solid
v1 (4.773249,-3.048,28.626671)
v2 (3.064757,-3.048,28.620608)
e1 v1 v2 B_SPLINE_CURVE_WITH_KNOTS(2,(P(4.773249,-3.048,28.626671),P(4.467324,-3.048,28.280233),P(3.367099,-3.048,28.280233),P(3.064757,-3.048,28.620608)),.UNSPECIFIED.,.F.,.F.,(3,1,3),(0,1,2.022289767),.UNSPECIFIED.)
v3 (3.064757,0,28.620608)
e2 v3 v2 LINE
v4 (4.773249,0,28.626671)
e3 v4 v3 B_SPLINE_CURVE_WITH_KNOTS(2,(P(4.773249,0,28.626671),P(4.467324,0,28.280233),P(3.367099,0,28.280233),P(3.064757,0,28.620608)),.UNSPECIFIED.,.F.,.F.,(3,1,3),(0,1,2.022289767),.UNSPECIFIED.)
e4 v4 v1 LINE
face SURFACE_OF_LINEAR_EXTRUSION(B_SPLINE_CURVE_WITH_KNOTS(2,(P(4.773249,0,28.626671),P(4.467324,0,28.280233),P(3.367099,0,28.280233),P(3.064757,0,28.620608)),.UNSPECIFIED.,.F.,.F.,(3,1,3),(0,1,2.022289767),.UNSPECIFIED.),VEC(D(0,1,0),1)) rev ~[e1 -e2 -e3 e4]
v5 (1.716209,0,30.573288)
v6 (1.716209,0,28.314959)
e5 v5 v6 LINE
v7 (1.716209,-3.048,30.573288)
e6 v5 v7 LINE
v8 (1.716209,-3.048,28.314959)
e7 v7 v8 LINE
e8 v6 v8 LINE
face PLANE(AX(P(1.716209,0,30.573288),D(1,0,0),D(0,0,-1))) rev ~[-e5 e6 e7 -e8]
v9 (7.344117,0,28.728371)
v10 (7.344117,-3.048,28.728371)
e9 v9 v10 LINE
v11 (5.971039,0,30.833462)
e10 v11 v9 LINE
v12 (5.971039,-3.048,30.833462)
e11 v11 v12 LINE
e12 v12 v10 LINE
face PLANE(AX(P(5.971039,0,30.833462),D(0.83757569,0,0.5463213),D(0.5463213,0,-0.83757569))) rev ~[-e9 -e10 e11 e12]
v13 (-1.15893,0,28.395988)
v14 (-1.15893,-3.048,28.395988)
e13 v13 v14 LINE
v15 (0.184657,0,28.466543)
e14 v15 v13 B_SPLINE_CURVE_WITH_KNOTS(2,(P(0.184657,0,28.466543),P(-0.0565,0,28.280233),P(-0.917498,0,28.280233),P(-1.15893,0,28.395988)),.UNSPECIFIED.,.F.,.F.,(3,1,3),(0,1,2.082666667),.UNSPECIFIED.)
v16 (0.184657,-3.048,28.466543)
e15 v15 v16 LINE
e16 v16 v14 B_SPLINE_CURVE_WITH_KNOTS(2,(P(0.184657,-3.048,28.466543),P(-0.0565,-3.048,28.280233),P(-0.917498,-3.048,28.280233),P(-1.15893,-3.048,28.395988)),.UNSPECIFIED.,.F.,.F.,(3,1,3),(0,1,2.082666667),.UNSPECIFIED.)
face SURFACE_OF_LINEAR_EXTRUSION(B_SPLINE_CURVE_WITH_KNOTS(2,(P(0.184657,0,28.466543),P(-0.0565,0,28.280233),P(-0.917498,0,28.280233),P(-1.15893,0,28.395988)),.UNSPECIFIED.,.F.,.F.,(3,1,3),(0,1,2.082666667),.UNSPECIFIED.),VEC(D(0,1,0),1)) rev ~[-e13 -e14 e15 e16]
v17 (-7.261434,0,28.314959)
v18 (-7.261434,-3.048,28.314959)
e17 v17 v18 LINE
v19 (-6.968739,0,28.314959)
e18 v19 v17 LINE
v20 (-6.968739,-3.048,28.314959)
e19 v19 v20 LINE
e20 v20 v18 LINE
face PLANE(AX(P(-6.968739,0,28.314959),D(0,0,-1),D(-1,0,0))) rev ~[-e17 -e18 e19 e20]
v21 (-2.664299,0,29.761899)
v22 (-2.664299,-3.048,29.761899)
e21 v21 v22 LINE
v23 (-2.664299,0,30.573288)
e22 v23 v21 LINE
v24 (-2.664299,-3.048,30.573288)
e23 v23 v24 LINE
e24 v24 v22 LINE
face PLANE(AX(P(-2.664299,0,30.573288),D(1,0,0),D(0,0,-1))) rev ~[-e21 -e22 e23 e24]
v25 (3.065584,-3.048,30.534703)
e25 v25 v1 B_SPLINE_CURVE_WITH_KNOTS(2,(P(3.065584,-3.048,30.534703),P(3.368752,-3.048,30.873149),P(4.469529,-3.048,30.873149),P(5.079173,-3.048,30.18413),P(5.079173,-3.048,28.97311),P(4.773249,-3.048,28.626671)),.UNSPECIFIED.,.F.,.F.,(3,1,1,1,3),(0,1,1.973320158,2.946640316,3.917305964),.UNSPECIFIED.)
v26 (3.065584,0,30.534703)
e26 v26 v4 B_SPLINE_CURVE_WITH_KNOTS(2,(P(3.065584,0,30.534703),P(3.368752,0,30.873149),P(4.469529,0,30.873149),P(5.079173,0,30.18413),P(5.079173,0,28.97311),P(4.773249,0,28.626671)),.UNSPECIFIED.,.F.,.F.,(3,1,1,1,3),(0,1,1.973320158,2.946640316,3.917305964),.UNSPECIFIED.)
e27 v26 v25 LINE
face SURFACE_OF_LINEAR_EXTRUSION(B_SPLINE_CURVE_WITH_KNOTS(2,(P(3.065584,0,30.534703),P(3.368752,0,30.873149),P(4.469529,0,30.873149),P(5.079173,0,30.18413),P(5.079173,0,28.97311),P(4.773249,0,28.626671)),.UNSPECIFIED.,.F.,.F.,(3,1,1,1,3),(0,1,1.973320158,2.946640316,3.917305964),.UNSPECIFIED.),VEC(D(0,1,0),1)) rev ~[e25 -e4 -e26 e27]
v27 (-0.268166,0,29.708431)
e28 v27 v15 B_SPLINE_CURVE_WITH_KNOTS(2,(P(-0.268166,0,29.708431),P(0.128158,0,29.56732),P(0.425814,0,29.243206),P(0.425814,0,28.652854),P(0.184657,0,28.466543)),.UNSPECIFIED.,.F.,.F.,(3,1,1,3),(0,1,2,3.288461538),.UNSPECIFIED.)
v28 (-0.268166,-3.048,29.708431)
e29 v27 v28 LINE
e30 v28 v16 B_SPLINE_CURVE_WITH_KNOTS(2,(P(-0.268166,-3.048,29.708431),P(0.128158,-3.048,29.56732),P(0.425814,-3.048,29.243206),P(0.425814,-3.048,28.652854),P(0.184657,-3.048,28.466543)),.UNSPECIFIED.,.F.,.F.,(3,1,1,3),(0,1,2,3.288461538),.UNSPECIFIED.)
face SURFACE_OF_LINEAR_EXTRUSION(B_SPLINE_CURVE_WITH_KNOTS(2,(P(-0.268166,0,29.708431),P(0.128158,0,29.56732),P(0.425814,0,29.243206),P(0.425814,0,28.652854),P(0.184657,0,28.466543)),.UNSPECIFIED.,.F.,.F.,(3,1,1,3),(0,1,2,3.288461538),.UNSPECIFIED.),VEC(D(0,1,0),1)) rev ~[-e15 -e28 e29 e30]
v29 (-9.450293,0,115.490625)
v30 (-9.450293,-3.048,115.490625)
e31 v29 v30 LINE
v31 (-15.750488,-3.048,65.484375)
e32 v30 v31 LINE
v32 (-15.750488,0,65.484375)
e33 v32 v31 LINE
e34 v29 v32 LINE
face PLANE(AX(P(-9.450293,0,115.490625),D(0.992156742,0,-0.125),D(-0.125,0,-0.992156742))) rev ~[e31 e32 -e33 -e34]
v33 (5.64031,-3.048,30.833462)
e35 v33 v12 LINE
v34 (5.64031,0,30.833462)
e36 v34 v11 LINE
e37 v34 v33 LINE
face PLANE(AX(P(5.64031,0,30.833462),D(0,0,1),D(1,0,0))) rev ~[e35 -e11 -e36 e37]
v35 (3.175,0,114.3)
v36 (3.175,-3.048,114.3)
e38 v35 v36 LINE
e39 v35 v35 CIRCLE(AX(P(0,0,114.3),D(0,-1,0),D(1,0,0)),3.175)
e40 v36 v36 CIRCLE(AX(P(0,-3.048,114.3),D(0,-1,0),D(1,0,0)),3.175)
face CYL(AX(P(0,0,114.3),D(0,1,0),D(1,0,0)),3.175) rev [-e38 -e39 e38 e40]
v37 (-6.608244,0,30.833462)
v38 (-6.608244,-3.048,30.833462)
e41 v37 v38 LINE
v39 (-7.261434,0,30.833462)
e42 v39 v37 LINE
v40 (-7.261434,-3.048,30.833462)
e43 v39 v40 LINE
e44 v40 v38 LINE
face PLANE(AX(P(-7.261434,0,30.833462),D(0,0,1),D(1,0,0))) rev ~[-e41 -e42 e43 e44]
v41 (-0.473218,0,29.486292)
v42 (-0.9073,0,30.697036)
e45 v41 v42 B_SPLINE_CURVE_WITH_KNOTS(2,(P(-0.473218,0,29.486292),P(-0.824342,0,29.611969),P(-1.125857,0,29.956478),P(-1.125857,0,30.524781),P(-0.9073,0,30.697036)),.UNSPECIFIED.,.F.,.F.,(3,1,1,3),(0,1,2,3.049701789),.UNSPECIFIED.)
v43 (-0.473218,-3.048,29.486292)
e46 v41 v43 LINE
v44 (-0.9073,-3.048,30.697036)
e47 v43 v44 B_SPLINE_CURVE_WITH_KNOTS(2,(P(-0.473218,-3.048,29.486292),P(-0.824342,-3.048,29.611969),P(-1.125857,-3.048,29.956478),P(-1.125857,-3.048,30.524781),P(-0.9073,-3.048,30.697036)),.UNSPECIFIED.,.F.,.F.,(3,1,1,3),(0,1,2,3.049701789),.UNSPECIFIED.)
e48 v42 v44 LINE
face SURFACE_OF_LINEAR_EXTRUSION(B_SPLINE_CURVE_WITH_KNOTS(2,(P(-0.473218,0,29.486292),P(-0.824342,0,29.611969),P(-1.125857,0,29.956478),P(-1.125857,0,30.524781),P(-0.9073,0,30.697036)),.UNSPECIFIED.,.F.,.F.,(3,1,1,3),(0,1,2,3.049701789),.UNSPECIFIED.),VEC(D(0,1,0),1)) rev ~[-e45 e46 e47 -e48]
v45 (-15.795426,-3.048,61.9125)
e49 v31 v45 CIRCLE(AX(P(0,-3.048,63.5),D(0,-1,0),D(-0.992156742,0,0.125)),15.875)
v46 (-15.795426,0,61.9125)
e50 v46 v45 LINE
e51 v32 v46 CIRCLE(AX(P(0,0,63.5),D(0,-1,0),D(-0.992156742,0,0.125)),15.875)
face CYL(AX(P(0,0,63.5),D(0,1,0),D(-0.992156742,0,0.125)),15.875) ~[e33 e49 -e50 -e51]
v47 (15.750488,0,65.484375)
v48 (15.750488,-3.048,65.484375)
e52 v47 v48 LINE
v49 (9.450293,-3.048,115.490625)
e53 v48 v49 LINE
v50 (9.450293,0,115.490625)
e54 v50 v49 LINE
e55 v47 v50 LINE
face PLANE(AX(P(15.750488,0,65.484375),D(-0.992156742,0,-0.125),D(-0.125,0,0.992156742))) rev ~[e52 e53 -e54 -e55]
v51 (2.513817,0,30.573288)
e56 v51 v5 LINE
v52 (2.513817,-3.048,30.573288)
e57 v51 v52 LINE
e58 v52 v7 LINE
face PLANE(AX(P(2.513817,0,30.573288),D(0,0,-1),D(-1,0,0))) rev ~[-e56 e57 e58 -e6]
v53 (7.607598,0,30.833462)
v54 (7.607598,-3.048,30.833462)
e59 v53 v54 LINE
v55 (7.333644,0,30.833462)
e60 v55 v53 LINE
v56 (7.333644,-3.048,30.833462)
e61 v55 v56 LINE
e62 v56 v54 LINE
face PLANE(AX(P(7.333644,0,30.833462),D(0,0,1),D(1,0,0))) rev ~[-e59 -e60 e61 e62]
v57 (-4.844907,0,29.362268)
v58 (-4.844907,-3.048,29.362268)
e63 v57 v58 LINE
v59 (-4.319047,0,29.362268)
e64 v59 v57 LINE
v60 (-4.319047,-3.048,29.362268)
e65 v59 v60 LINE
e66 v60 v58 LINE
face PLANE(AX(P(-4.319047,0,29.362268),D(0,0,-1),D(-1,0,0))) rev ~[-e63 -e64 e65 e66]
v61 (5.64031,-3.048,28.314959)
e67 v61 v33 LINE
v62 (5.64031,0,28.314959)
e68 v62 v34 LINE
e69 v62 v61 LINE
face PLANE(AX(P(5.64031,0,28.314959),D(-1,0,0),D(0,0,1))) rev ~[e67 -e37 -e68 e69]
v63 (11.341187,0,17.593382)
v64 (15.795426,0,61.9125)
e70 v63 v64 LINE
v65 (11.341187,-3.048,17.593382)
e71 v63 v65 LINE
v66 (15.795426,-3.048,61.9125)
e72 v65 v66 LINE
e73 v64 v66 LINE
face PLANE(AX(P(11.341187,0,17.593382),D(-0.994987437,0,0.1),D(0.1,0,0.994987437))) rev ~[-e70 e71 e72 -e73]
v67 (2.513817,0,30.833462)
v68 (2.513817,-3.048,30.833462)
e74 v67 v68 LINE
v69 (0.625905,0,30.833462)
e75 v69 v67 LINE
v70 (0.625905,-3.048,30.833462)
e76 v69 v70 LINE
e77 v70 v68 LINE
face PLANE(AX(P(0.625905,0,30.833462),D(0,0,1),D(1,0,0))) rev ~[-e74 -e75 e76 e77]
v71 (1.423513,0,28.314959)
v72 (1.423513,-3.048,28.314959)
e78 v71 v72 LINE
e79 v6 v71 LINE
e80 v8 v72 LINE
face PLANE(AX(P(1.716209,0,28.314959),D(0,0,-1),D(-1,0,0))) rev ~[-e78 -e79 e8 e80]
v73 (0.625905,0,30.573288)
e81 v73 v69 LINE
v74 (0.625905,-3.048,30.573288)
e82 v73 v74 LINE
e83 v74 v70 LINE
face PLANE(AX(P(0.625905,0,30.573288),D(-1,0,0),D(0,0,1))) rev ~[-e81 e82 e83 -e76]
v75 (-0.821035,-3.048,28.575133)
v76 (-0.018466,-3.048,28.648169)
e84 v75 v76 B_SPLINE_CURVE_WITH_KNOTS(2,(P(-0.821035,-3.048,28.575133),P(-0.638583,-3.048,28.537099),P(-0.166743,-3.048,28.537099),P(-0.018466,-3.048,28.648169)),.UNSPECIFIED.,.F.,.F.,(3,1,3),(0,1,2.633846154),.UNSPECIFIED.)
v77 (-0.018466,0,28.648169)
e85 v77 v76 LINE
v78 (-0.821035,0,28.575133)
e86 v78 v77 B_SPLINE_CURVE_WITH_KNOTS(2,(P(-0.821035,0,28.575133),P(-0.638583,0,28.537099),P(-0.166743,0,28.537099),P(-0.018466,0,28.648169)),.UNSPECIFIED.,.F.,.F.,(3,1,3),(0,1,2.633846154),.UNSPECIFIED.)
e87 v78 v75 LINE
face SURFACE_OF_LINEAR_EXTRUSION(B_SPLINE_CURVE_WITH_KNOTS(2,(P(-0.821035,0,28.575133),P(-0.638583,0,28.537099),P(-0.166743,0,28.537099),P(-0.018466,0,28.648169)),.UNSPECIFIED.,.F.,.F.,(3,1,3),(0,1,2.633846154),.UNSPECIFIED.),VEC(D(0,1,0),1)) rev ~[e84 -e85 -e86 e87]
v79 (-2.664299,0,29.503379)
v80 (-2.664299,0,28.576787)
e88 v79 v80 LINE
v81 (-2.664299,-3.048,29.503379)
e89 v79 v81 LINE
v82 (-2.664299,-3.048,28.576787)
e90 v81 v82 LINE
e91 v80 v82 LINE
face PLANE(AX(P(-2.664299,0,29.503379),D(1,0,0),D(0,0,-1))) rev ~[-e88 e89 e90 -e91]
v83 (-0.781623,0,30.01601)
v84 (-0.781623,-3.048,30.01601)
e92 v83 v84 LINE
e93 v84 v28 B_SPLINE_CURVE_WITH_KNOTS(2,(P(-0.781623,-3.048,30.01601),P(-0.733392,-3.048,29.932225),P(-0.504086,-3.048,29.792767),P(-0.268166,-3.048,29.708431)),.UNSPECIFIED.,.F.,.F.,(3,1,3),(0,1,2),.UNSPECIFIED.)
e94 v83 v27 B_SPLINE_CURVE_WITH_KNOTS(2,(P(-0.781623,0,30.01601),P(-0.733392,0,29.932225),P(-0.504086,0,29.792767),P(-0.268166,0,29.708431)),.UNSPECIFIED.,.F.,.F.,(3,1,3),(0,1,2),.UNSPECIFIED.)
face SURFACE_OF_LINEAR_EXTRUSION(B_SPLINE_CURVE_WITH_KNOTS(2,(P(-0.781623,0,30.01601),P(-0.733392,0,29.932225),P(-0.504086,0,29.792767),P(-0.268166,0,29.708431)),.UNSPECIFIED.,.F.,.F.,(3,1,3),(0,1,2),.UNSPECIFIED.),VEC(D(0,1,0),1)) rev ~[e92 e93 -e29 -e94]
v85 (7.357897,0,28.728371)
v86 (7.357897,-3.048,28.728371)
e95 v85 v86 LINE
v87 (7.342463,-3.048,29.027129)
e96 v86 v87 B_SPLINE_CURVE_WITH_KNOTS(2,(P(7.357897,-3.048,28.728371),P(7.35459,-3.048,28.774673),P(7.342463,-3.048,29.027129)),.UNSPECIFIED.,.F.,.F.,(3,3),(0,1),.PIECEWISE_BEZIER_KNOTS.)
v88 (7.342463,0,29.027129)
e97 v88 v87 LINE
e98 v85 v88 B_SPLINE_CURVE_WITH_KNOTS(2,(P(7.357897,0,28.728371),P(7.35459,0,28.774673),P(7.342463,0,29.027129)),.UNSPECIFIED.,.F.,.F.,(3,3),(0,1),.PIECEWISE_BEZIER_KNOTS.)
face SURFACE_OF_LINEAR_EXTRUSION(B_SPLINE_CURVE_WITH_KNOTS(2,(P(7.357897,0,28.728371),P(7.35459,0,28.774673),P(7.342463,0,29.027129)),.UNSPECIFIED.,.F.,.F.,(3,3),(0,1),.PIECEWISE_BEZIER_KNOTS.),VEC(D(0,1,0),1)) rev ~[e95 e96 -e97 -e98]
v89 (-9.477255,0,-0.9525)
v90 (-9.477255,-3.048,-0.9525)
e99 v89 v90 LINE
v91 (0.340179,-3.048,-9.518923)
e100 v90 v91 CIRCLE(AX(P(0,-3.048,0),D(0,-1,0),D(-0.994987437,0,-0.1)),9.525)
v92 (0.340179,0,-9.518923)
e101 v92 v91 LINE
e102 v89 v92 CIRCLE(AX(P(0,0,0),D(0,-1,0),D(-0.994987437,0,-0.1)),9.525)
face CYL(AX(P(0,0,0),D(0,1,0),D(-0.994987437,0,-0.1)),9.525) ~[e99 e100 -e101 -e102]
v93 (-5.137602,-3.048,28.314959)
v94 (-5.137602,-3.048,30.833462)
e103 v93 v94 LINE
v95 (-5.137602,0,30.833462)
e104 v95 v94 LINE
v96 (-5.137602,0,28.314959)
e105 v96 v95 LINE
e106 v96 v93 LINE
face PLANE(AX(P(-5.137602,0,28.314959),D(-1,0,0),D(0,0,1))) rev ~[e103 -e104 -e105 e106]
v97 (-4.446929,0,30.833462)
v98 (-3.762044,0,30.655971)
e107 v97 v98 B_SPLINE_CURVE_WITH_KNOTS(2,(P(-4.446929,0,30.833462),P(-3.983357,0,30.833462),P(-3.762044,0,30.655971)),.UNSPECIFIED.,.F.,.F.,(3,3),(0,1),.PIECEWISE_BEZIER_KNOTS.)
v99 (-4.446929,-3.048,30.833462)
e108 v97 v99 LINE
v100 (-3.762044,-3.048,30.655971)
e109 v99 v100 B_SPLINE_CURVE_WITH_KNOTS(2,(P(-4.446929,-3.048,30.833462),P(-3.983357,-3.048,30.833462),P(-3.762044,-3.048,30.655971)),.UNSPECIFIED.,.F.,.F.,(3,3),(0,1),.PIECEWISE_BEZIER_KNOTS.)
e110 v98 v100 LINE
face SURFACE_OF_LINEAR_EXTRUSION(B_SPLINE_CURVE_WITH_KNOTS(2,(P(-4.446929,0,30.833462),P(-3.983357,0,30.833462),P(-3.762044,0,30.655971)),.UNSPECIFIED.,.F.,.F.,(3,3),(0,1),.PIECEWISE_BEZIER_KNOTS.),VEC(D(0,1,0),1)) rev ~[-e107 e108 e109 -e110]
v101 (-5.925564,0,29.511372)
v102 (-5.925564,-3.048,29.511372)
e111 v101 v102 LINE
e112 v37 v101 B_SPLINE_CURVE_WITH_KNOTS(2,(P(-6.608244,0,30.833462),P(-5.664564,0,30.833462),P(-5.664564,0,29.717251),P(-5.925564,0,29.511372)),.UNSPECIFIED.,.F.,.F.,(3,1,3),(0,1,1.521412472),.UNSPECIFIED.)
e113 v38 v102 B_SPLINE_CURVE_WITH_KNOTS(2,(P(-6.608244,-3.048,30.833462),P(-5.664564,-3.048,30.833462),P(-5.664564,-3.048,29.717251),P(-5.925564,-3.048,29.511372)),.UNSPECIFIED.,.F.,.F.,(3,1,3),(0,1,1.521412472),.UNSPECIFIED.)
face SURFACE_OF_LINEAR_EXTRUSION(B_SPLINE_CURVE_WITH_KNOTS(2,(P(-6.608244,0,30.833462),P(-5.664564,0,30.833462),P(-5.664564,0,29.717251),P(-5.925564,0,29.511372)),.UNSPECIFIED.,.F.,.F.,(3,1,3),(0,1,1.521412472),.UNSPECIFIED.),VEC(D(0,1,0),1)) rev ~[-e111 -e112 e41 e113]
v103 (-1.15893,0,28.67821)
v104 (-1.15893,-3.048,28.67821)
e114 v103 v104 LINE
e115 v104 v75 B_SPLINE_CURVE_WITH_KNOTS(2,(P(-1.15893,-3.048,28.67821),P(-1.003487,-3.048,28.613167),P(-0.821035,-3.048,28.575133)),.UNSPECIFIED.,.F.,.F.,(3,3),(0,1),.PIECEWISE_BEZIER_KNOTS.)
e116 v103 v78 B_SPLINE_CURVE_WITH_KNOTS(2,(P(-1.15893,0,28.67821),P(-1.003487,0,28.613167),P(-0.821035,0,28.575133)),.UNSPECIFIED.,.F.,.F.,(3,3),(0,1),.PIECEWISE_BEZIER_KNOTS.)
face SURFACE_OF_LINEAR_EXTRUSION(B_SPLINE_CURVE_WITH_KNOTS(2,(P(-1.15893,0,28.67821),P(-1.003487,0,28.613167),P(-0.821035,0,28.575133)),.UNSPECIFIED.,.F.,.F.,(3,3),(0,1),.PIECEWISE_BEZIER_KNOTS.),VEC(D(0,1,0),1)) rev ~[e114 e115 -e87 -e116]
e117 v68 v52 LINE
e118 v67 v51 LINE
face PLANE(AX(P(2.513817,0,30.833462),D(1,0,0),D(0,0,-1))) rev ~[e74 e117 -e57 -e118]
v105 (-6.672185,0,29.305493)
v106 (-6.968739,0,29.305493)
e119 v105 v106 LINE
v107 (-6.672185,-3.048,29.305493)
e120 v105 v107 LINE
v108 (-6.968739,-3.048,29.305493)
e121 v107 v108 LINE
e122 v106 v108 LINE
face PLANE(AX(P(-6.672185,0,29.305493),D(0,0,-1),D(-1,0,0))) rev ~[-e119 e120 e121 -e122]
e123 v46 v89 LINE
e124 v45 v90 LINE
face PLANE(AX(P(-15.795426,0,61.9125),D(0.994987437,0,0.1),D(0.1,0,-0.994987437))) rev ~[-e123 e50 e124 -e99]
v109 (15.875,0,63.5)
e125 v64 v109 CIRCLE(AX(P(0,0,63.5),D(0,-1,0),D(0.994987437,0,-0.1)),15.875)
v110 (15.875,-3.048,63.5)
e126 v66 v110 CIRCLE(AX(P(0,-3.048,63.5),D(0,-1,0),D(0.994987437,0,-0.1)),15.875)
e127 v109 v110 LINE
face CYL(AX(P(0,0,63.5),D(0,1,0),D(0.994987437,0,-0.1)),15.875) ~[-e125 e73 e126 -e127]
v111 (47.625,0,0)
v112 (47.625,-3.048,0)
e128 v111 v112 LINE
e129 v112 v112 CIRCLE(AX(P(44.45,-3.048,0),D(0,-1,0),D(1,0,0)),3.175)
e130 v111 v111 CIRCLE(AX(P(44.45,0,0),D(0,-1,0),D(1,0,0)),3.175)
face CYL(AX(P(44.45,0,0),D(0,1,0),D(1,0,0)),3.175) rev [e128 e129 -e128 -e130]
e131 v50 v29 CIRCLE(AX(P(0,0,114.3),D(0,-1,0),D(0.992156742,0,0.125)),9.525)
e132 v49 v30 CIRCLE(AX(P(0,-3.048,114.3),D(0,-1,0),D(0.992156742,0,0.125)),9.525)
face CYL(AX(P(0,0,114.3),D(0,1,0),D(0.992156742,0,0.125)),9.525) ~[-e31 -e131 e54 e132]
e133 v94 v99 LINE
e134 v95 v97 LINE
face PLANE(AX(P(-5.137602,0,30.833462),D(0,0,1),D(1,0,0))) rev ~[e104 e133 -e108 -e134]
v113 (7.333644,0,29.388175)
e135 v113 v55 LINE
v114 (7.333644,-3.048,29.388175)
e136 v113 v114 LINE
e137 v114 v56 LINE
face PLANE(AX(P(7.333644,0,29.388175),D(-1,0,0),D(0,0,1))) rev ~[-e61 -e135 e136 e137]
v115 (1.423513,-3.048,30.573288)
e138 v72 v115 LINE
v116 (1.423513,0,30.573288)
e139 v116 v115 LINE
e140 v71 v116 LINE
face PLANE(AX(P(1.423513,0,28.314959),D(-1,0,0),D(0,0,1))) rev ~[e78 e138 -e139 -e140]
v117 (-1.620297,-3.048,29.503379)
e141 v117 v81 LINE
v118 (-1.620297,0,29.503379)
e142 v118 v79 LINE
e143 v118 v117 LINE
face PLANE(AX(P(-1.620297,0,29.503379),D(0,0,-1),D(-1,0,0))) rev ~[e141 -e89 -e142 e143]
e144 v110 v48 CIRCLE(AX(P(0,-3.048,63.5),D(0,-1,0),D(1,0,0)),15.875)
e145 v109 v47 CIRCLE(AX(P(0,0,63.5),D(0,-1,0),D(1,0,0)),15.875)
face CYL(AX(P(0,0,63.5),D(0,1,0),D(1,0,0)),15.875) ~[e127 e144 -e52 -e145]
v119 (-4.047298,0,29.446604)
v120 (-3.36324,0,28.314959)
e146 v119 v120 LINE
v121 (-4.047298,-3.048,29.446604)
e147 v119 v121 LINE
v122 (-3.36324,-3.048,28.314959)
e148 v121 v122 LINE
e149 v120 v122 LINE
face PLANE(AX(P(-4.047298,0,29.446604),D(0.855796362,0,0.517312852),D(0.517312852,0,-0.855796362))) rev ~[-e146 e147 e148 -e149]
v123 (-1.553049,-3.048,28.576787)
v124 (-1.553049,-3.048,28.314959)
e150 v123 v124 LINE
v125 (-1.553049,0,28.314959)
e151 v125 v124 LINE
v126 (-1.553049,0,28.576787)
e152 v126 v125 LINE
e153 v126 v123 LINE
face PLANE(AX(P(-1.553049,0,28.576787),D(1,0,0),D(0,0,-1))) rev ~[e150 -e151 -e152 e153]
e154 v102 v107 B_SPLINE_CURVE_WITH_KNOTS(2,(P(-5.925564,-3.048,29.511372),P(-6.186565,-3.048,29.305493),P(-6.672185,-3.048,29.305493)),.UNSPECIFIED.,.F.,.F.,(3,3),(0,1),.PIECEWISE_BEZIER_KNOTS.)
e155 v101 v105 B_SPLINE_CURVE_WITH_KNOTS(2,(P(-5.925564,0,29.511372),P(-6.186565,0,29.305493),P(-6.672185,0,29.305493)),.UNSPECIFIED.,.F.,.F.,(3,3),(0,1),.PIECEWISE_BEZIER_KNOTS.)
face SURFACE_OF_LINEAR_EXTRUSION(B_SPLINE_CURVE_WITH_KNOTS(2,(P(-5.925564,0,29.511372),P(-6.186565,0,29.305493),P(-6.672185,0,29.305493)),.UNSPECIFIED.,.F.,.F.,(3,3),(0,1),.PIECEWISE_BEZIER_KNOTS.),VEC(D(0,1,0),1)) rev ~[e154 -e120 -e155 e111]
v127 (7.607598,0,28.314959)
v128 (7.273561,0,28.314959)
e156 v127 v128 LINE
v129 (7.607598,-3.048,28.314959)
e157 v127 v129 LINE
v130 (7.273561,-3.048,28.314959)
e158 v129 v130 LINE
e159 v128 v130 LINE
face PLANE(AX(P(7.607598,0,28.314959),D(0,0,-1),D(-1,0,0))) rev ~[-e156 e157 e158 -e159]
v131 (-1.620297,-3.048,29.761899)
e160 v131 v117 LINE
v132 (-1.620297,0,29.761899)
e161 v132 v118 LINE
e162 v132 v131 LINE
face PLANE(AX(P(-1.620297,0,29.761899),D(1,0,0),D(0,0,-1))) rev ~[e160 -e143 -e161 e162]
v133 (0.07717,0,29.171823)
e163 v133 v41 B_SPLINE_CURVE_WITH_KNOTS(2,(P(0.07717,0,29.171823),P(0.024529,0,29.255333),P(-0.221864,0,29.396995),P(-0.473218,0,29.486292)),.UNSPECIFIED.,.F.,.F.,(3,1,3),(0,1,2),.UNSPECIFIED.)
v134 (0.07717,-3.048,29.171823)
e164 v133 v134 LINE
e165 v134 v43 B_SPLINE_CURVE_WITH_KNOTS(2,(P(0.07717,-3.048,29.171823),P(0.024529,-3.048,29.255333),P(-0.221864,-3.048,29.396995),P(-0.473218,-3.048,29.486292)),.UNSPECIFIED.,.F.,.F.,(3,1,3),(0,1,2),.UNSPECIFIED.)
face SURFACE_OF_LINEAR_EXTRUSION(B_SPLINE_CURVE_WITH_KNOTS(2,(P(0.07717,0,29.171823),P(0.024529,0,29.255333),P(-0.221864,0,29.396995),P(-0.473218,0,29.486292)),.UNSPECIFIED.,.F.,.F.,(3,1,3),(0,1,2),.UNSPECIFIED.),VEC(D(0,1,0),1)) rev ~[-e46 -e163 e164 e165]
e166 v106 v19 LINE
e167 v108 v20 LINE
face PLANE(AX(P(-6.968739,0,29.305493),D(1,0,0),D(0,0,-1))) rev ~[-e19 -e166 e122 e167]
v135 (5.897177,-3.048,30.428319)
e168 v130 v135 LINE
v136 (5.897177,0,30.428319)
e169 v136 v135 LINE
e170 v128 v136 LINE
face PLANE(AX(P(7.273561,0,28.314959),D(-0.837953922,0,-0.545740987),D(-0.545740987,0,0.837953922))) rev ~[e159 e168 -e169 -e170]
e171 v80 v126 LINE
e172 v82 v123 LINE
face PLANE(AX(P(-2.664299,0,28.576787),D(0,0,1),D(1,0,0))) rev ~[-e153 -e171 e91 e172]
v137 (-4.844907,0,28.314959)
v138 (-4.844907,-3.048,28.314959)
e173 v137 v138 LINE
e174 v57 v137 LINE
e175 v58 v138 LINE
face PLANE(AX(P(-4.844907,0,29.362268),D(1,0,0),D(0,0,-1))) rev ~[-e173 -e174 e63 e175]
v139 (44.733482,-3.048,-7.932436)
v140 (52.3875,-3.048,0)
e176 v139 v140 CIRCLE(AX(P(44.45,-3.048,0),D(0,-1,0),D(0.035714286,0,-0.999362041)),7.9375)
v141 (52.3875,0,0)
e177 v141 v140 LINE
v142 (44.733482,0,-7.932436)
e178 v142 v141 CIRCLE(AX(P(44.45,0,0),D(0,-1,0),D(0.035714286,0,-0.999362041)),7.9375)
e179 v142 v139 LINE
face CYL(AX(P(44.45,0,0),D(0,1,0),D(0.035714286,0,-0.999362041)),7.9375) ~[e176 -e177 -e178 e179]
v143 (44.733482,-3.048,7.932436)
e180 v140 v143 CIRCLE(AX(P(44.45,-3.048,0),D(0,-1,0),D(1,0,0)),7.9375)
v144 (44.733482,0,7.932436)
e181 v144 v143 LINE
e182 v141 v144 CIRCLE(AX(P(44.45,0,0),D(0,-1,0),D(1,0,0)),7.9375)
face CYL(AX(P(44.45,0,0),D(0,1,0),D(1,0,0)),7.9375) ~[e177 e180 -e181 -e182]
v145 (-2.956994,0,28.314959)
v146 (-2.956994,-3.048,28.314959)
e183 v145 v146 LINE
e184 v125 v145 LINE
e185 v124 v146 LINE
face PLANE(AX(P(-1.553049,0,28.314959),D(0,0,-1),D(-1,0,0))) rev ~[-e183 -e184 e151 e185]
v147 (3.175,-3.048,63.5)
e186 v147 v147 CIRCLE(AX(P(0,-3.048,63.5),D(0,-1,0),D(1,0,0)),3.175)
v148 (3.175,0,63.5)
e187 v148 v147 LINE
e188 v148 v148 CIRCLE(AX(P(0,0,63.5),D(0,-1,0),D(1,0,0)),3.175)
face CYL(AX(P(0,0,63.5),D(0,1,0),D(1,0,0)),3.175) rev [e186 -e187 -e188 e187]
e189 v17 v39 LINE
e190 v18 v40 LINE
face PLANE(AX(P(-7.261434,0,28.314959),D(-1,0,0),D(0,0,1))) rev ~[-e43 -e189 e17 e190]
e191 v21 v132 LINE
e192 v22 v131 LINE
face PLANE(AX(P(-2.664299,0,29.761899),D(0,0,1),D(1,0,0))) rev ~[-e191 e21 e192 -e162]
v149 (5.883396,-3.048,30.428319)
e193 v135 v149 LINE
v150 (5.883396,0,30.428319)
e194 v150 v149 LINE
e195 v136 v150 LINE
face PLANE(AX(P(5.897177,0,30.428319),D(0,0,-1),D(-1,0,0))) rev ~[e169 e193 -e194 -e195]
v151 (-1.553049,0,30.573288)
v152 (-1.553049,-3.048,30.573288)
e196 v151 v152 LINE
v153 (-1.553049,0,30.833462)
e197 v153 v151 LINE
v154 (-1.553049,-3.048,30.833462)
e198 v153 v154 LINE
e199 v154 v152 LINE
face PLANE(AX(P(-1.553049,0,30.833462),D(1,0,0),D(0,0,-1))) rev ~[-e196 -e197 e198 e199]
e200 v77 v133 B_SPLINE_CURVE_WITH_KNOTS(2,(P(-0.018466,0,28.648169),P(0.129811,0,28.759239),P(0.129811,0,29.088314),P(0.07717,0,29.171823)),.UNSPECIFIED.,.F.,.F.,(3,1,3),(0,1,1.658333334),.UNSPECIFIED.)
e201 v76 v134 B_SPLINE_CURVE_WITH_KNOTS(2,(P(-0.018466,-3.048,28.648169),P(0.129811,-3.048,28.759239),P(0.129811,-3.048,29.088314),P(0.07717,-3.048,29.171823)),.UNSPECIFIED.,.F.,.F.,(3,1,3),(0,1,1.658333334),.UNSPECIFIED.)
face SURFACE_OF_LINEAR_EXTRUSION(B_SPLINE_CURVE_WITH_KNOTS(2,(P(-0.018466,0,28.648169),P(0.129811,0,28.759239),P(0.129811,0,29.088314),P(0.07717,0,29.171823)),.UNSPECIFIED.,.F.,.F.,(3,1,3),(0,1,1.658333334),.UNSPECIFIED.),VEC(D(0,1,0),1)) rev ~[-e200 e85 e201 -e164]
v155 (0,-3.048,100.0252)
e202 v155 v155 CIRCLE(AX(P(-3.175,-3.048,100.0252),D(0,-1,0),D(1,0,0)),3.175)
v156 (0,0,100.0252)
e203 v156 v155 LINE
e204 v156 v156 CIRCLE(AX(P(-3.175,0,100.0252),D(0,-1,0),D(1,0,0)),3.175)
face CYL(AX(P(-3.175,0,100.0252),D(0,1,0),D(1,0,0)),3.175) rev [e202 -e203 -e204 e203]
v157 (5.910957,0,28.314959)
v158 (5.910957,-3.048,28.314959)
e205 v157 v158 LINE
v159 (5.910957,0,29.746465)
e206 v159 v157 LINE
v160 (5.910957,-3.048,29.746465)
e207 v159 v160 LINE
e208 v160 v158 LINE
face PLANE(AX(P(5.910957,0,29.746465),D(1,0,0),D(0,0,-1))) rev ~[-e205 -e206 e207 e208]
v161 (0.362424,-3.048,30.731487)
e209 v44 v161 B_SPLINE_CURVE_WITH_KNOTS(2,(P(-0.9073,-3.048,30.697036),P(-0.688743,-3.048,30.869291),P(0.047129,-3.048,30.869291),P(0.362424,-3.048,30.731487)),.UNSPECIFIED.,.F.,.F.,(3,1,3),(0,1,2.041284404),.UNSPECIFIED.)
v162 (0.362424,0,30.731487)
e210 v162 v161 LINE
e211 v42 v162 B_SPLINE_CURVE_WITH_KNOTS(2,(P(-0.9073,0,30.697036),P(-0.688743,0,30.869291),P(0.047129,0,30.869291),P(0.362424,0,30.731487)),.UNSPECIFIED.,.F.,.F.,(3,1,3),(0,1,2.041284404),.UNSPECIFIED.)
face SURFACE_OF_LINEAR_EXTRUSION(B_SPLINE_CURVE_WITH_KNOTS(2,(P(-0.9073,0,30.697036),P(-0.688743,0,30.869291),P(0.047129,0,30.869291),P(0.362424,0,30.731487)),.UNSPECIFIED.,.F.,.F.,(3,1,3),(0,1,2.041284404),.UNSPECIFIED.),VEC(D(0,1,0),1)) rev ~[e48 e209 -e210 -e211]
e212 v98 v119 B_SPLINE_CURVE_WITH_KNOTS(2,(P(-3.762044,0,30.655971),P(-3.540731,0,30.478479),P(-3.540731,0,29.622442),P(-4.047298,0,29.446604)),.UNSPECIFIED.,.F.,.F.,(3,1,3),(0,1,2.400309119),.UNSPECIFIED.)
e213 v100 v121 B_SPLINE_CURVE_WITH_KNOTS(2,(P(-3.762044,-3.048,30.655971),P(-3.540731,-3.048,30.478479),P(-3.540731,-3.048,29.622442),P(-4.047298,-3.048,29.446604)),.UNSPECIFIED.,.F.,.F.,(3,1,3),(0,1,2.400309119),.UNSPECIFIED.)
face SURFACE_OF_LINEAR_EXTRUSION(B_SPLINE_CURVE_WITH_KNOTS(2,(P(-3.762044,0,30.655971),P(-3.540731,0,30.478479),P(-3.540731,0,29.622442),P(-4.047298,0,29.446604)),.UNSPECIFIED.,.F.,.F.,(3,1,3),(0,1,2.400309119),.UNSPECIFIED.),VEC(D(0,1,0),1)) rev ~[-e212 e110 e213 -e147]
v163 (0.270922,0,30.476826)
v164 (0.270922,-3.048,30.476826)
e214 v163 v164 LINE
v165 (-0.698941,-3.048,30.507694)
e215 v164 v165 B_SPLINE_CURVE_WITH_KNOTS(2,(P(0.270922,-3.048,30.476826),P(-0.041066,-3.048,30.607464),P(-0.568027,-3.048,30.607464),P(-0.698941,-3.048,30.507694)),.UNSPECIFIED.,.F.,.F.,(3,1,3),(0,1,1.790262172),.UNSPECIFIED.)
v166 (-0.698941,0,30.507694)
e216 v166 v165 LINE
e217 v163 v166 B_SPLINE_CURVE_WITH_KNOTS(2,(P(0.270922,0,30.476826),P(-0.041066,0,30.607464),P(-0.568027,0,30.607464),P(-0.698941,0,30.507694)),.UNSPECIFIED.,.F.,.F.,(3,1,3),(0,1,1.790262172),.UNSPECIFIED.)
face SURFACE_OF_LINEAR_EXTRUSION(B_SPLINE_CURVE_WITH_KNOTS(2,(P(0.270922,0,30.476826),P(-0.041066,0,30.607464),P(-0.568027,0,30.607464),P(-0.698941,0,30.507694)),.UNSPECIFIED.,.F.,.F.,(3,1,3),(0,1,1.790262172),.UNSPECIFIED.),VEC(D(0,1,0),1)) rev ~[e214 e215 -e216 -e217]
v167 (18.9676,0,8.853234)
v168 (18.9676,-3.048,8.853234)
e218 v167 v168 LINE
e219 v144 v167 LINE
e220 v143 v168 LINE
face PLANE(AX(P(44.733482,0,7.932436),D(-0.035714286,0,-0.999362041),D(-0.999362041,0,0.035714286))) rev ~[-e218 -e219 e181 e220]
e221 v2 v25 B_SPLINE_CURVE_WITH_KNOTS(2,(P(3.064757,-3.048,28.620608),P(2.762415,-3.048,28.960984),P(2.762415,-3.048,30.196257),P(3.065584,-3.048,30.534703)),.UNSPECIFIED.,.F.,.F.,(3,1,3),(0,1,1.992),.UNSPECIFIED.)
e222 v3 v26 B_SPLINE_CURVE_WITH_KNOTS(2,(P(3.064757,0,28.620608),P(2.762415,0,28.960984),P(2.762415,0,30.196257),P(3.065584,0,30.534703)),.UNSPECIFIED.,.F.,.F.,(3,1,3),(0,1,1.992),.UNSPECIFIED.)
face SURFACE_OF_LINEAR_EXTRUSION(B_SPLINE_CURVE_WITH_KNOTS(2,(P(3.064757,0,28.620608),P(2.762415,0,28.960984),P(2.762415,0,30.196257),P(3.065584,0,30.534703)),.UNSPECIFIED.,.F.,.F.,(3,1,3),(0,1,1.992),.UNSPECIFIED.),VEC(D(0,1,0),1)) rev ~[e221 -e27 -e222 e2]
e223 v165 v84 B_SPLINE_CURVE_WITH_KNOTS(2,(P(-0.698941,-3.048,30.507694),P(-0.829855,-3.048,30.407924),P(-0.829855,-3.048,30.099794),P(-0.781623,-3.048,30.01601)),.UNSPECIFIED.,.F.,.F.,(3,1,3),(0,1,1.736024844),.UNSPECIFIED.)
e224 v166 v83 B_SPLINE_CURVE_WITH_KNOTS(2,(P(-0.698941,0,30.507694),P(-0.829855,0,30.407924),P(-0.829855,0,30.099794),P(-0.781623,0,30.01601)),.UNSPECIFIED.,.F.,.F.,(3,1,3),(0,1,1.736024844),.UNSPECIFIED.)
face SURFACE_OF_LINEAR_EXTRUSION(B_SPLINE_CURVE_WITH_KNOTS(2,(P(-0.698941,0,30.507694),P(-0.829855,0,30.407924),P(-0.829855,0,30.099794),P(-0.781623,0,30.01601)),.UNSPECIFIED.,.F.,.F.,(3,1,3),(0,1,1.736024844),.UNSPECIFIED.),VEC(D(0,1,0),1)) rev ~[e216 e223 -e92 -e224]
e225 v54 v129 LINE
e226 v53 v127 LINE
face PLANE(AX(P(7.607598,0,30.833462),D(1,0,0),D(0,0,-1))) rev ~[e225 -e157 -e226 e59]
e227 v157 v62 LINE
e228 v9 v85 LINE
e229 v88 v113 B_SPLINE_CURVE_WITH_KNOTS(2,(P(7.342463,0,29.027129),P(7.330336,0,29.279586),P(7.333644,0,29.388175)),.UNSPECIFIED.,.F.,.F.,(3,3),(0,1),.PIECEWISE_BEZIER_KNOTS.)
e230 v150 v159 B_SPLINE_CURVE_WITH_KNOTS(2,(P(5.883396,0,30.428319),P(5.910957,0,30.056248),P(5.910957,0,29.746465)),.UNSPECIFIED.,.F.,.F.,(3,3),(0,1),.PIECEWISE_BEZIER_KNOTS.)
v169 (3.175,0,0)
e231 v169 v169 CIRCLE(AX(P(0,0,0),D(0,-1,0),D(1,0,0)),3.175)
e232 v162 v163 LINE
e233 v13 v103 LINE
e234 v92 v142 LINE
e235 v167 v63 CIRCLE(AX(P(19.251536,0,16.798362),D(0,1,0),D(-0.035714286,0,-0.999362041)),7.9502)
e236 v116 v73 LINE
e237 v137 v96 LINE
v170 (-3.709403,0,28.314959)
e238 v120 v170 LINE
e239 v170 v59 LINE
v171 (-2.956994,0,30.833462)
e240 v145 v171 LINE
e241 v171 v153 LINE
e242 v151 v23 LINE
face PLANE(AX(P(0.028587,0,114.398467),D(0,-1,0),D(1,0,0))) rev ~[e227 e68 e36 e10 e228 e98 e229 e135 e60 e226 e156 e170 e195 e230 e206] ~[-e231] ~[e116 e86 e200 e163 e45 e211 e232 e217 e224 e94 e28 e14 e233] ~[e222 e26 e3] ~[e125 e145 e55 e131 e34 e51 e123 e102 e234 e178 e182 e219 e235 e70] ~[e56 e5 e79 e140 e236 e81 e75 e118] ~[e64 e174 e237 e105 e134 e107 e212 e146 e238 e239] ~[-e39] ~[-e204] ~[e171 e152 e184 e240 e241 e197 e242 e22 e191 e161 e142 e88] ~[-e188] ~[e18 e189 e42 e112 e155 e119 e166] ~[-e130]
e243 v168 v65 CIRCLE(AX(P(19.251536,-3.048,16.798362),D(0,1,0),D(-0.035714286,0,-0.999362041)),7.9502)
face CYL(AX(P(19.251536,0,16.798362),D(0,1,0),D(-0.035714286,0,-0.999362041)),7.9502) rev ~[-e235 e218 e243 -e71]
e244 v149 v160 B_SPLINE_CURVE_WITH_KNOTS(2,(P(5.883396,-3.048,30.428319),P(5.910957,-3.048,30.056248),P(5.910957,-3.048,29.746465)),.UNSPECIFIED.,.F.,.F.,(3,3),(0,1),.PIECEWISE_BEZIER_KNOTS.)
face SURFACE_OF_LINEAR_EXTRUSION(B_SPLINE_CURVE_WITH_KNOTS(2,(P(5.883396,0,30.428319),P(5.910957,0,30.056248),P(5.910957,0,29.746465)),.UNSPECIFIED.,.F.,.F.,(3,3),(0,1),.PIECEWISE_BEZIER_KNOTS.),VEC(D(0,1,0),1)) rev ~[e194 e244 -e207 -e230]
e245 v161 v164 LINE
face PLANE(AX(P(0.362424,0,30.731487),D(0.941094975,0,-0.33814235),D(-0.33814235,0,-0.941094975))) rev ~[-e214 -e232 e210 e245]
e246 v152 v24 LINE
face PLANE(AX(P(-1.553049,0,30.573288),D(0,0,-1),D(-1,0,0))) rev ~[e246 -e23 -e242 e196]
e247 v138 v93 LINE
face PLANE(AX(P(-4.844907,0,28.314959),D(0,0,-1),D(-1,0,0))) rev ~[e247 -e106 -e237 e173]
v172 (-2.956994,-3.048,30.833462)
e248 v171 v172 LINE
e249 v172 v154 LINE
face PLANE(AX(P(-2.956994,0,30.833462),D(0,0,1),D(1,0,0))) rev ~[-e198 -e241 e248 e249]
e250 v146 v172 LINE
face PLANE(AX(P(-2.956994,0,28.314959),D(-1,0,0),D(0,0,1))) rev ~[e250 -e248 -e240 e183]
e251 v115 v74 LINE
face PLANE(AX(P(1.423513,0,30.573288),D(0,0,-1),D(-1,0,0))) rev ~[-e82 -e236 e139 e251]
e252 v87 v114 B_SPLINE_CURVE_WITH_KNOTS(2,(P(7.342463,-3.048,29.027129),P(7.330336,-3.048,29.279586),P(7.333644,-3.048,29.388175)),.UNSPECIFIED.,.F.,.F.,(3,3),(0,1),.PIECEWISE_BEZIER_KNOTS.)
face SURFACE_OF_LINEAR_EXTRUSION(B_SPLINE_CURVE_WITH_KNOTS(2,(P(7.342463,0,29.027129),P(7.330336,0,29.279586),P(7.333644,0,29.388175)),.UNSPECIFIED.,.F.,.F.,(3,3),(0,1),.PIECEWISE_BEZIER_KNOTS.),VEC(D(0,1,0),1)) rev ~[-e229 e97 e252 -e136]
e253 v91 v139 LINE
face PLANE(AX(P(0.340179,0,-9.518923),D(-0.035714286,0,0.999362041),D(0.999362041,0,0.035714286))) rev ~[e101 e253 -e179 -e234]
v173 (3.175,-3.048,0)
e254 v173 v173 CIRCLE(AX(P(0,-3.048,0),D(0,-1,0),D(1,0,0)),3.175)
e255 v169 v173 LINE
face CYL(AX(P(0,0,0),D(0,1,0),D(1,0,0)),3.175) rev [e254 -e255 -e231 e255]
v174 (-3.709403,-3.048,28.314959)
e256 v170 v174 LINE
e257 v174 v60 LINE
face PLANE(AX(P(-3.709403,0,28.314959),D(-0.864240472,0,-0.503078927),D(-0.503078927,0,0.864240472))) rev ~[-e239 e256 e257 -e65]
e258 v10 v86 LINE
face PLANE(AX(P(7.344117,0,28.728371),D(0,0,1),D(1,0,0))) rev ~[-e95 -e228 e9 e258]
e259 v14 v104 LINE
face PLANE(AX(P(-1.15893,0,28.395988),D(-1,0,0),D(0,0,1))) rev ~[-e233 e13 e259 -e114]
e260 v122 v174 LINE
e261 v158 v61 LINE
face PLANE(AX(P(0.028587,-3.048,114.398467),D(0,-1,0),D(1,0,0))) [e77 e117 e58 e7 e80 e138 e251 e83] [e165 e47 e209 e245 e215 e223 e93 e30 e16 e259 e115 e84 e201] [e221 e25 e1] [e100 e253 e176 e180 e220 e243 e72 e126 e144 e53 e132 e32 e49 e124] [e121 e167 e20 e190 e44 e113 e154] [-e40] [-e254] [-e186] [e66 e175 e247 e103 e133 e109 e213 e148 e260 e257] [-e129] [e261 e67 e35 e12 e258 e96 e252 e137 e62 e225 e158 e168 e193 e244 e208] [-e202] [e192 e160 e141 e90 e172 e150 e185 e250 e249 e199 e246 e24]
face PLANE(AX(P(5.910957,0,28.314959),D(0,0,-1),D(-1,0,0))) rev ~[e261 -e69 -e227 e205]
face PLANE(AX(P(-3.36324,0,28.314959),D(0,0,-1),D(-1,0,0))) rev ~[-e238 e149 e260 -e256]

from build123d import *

# Parameters (mm, degrees)
F0_R     = 3.175
F1_DEPTH = 3.048


with BuildPart() as f1:
    # F0 (on Front) → F1 (new body)
    with BuildSketch(Plane.XZ):
        with BuildLine():
            ThreePointArc((-9.4502929642, 115.490625), (-0.596483242, 104.7936951058), (9.525, 114.3))
            ThreePointArc((9.525, 114.3), (9.5063048942, 114.896483242), (9.4502929642, 115.490625))
            ThreePointArc((9.4502929642, 115.490625), (0, 123.825), (-9.4502929642, 115.490625))
        make_face()
        with Locations((0, 114.3)):
            Circle(F0_R, mode=Mode.SUBTRACT)
        with BuildLine():
            ThreePointArc((9.4502929642, 115.490625), (9.5063048942, 114.896483242), (9.525, 114.3))
            ThreePointArc((9.525, 114.3), (-0.596483242, 104.7936951058), (-9.4502929642, 115.490625))
            Line((-9.4502929642, 115.490625), (-15.7504882737, 65.484375))
            ThreePointArc((-15.7504882737, 65.484375), (0, 79.375), (15.7504882737, 65.484375))
            Line((15.7504882737, 65.484375), (9.4502929642, 115.490625))
        make_face()
        with Locations((-3.175, 100.0252)):
            Circle(F0_R, mode=Mode.SUBTRACT)
        with BuildLine():
            ThreePointArc((15.875, 63.5), (15.8438414904, 64.4941387366), (15.7504882737, 65.484375))
            ThreePointArc((15.7504882737, 65.484375), (0, 79.375), (-15.7504882737, 65.484375))
            ThreePointArc((-15.7504882737, 65.484375), (-15.8737438155, 63.6997054867), (-15.7954255641, 61.9125))
            ThreePointArc((-15.7954255641, 61.9125), (0, 47.625), (15.7954255641, 61.9125))
            ThreePointArc((15.7954255641, 61.9125), (15.8550939106, 62.7052534459), (15.875, 63.5))
        make_face()
        with Locations((0, 63.5)):
            Circle(F0_R, mode=Mode.SUBTRACT)
        with BuildLine():
            ThreePointArc((15.7954255641, 61.9125), (0, 47.625), (-15.7954255641, 61.9125))
            Line((-15.7954255641, 61.9125), (-9.4772553384, -0.9525))
            ThreePointArc((-9.4772553384, -0.9525), (-0.4768479324, 9.5130563464), (9.525, 0))
            ThreePointArc((9.525, 0), (6.8544082857, -6.6138273378), (0.3401785714, -9.5189234444))
            Line((0.3401785714, -9.5189234444), (44.7334821429, -7.9324362036))
            ThreePointArc((44.7334821429, -7.9324362036), (36.5125, 0), (44.7334821429, 7.9324362036))
            Line((44.7334821429, 7.9324362036), (18.9676000005, 8.8532337108))
            ThreePointArc((18.9676000005, 8.8532337108), (13.2611998974, 11.5713591498), (11.3411865923, 17.5933818124))
            Line((11.3411865923, 17.5933818124), (15.7954255641, 61.9125))
        make_face()
        with BuildLine():
            add(Edge.make_bspline(
                [(-6.6082443576, 30.833461862), (-5.6645638021, 30.833461862), (-5.6645638021, 30.0997943273)],
                knots=[0, 0, 0, 1, 1, 1], degree=2))
            add(Edge.make_bspline(
                [(-5.6645638021, 30.0997943273), (-5.6645638021, 29.7172509245), (-5.9255642361, 29.5113720183)],
                knots=[0, 0, 0, 1, 1, 1], degree=2))
            add(Edge.make_bspline(
                [(-5.9255642361, 29.5113720183), (-6.1865646701, 29.305493112), (-6.6721853299, 29.305493112)],
                knots=[0, 0, 0, 1, 1, 1], degree=2))
            Line((-6.6721853299, 29.305493112), (-6.9687391493, 29.305493112))
            Line((-6.9687391493, 29.305493112), (-6.9687391493, 28.3149592578))
            Line((-6.9687391493, 28.3149592578), (-7.2614344618, 28.3149592578))
            Line((-7.2614344618, 28.3149592578), (-7.2614344618, 30.833461862))
            Line((-7.2614344618, 30.833461862), (-6.6082443576, 30.833461862))
        make_face(mode=Mode.SUBTRACT)
        with BuildLine():
            Line((-4.319047309, 29.3622682856), (-4.844906684, 29.3622682856))
            Line((-4.844906684, 29.3622682856), (-4.844906684, 28.3149592578))
            Line((-4.844906684, 28.3149592578), (-5.1376019965, 28.3149592578))
            Line((-5.1376019965, 28.3149592578), (-5.1376019965, 30.833461862))
            Line((-5.1376019965, 30.833461862), (-4.4469292535, 30.833461862))
            add(Edge.make_bspline(
                [(-4.4469292535, 30.833461862), (-3.9833572049, 30.833461862), (-3.7620442708, 30.6559705426)],
                knots=[0, 0, 0, 1, 1, 1], degree=2))
            add(Edge.make_bspline(
                [(-3.7620442708, 30.6559705426), (-3.5407313368, 30.4784792231), (-3.5407313368, 30.1218429384)],
                knots=[0, 0, 0, 1, 1, 1], degree=2))
            add(Edge.make_bspline(
                [(-3.5407313368, 30.1218429384), (-3.5407313368, 29.6224418967), (-4.0472981771, 29.4466042231)],
                knots=[0, 0, 0, 1, 1, 1], degree=2))
            Line((-4.0472981771, 29.4466042231), (-3.3632400174, 28.3149592578))
            Line((-3.3632400174, 28.3149592578), (-3.7094032118, 28.3149592578))
            Line((-3.7094032118, 28.3149592578), (-4.319047309, 29.3622682856))
        make_face(mode=Mode.SUBTRACT)
        Polygon((-1.5530490451, 28.5767865148), (-1.5530490451, 28.3149592578), (-2.9569943576, 28.3149592578), (-2.9569943576, 30.833461862), (-1.5530490451, 30.833461862), (-1.5530490451, 30.5732882509), (-2.6642990451, 30.5732882509), (-2.6642990451, 29.761899362), (-1.620297309, 29.761899362), (-1.620297309, 29.5033793967), (-2.6642990451, 29.5033793967), (-2.6642990451, 28.5767865148), align=None, mode=Mode.SUBTRACT)
        with BuildLine():
            add(Edge.make_bspline(
                [(0.2769856771, 29.4052630773), (0.4258138021, 29.2432057856), (0.4258138021, 28.9852370356)],
                knots=[0, 0, 0, 1, 1, 1], degree=2))
            add(Edge.make_bspline(
                [(0.4258138021, 28.9852370356), (0.4258138021, 28.6528542231), (0.1846571181, 28.4665434592)],
                knots=[0, 0, 0, 1, 1, 1], degree=2))
            add(Edge.make_bspline(
                [(0.1846571181, 28.4665434592), (-0.056499566, 28.2802326953), (-0.4699110243, 28.2802326953)],
                knots=[0, 0, 0, 1, 1, 1], degree=2))
            add(Edge.make_bspline(
                [(-0.4699110243, 28.2802326953), (-0.9174978299, 28.2802326953), (-1.1589301215, 28.3959879037)],
                knots=[0, 0, 0, 1, 1, 1], degree=2))
            Line((-1.1589301215, 28.3959879037), (-1.1589301215, 28.6782101259))
            add(Edge.make_bspline(
                [(-1.1589301215, 28.6782101259), (-1.0034874132, 28.6131667231), (-0.8210351562, 28.575132869)],
                knots=[0, 0, 0, 1, 1, 1], degree=2))
            add(Edge.make_bspline(
                [(-0.8210351562, 28.575132869), (-0.6385828993, 28.5370990148), (-0.459437934, 28.5370990148)],
                knots=[0, 0, 0, 1, 1, 1], degree=2))
            add(Edge.make_bspline(
                [(-0.459437934, 28.5370990148), (-0.1667426215, 28.5370990148), (-0.0184657118, 28.6481688933)],
                knots=[0, 0, 0, 1, 1, 1], degree=2))
            add(Edge.make_bspline(
                [(-0.0184657118, 28.6481688933), (0.1298111979, 28.7592387717), (0.1298111979, 28.9576762717)],
                knots=[0, 0, 0, 1, 1, 1], degree=2))
            add(Edge.make_bspline(
                [(0.1298111979, 28.9576762717), (0.1298111979, 29.0883142926), (0.0771701389, 29.1718234071)],
                knots=[0, 0, 0, 1, 1, 1], degree=2))
            add(Edge.make_bspline(
                [(0.0771701389, 29.1718234071), (0.0245290799, 29.2553325217), (-0.0986675347, 29.3261636849)],
                knots=[0, 0, 0, 1, 1, 1], degree=2))
            add(Edge.make_bspline(
                [(-0.0986675347, 29.3261636849), (-0.2218641493, 29.3969948481), (-0.473218316, 29.4862917231)],
                knots=[0, 0, 0, 1, 1, 1], degree=2))
            add(Edge.make_bspline(
                [(-0.473218316, 29.4862917231), (-0.8243424479, 29.6119688065), (-0.9750998264, 29.7842235808)],
                knots=[0, 0, 0, 1, 1, 1], degree=2))
            add(Edge.make_bspline(
                [(-0.9750998264, 29.7842235808), (-1.1258572049, 29.9564783551), (-1.1258572049, 30.2337396398)],
                knots=[0, 0, 0, 1, 1, 1], degree=2))
            add(Edge.make_bspline(
                [(-1.1258572049, 30.2337396398), (-1.1258572049, 30.5247813065), (-0.9073003472, 30.6970360808)],
                knots=[0, 0, 0, 1, 1, 1], degree=2))
            add(Edge.make_bspline(
                [(-0.9073003472, 30.6970360808), (-0.6887434896, 30.8692908551), (-0.3282486979, 30.8692908551)],
                knots=[0, 0, 0, 1, 1, 1], degree=2))
            add(Edge.make_bspline(
                [(-0.3282486979, 30.8692908551), (0.0471289063, 30.8692908551), (0.3624240451, 30.7314870356)],
                knots=[0, 0, 0, 1, 1, 1], degree=2))
            Line((0.3624240451, 30.7314870356), (0.270922309, 30.4768255773))
            add(Edge.make_bspline(
                [(0.270922309, 30.4768255773), (-0.0410655382, 30.6074635981), (-0.3354144965, 30.6074635981)],
                knots=[0, 0, 0, 1, 1, 1], degree=2))
            add(Edge.make_bspline(
                [(-0.3354144965, 30.6074635981), (-0.5680273437, 30.6074635981), (-0.6989409722, 30.5076936328)],
                knots=[0, 0, 0, 1, 1, 1], degree=2))
            add(Edge.make_bspline(
                [(-0.6989409722, 30.5076936328), (-0.8298546007, 30.4079236676), (-0.8298546007, 30.2304323481)],
                knots=[0, 0, 0, 1, 1, 1], degree=2))
            add(Edge.make_bspline(
                [(-0.8298546007, 30.2304323481), (-0.8298546007, 30.0997943273), (-0.7816232639, 30.0160096051)],
                knots=[0, 0, 0, 1, 1, 1], degree=2))
            add(Edge.make_bspline(
                [(-0.7816232639, 30.0160096051), (-0.7333919271, 29.9322248828), (-0.6187391493, 29.8624961502)],
                knots=[0, 0, 0, 1, 1, 1], degree=2))
            add(Edge.make_bspline(
                [(-0.6187391493, 29.8624961502), (-0.5040863715, 29.7927674176), (-0.2681662326, 29.7084314801)],
                knots=[0, 0, 0, 1, 1, 1], degree=2))
            add(Edge.make_bspline(
                [(-0.2681662326, 29.7084314801), (0.1281575521, 29.567320369), (0.2769856771, 29.4052630773)],
                knots=[0, 0, 0, 1, 1, 1], degree=2))
        make_face(mode=Mode.SUBTRACT)
        Polygon((1.7162087674, 30.5732882509), (1.7162087674, 28.3149592578), (1.4235134549, 28.3149592578), (1.4235134549, 30.5732882509), (0.6259049479, 30.5732882509), (0.6259049479, 30.833461862), (2.5138172743, 30.833461862), (2.5138172743, 30.5732882509), align=None, mode=Mode.SUBTRACT)
        with BuildLine():
            add(Edge.make_bspline(
                [(4.7743511285, 30.5286398134), (5.0791731771, 30.1841302648), (5.0791731771, 29.5777934592)],
                knots=[0, 0, 0, 1, 1, 1], degree=2))
            add(Edge.make_bspline(
                [(5.0791731771, 29.5777934592), (5.0791731771, 28.9731102995), (4.7732486979, 28.6266714974)],
                knots=[0, 0, 0, 1, 1, 1], degree=2))
            add(Edge.make_bspline(
                [(4.7732486979, 28.6266714974), (4.4673242188, 28.2802326953), (3.9232747396, 28.2802326953)],
                knots=[0, 0, 0, 1, 1, 1], degree=2))
            add(Edge.make_bspline(
                [(3.9232747396, 28.2802326953), (3.3670985243, 28.2802326953), (3.0647569444, 28.6206081294)],
                knots=[0, 0, 0, 1, 1, 1], degree=2))
            add(Edge.make_bspline(
                [(3.0647569444, 28.6206081294), (2.7624153646, 28.9609835634), (2.7624153646, 29.5811007509)],
                knots=[0, 0, 0, 1, 1, 1], degree=2))
            add(Edge.make_bspline(
                [(2.7624153646, 29.5811007509), (2.7624153646, 30.1962570009), (3.0655837674, 30.5347031815)],
                knots=[0, 0, 0, 1, 1, 1], degree=2))
            add(Edge.make_bspline(
                [(3.0655837674, 30.5347031815), (3.3687521701, 30.873149362), (3.9265820313, 30.873149362)],
                knots=[0, 0, 0, 1, 1, 1], degree=2))
            add(Edge.make_bspline(
                [(3.9265820313, 30.873149362), (4.4695290799, 30.873149362), (4.7743511285, 30.5286398134)],
                knots=[0, 0, 0, 1, 1, 1], degree=2))
        make_face(mode=Mode.SUBTRACT)
        with BuildLine():
            Line((7.6075976563, 30.833461862), (7.6075976563, 28.3149592578))
            Line((7.6075976563, 28.3149592578), (7.2735611979, 28.3149592578))
            Line((7.2735611979, 28.3149592578), (5.8971766493, 30.4283186328))
            Line((5.8971766493, 30.4283186328), (5.8833962674, 30.4283186328))
            add(Edge.make_bspline(
                [(5.8833962674, 30.4283186328), (5.9109570313, 30.0562483203), (5.9109570313, 29.7464653342)],
                knots=[0, 0, 0, 1, 1, 1], degree=2))
            Line((5.9109570313, 29.7464653342), (5.9109570313, 28.3149592578))
            Line((5.9109570313, 28.3149592578), (5.6403103299, 28.3149592578))
            Line((5.6403103299, 28.3149592578), (5.6403103299, 30.833461862))
            Line((5.6403103299, 30.833461862), (5.9710394965, 30.833461862))
            Line((5.9710394965, 30.833461862), (7.3441167535, 28.7283707162))
            Line((7.3441167535, 28.7283707162), (7.3578971354, 28.7283707162))
            add(Edge.make_bspline(
                [(7.3578971354, 28.7283707162), (7.3545898438, 28.7746727995), (7.3424631076, 29.0271293967)],
                knots=[0, 0, 0, 1, 1, 1], degree=2))
            add(Edge.make_bspline(
                [(7.3424631076, 29.0271293967), (7.3303363715, 29.279585994), (7.3336436632, 29.3881754037)],
                knots=[0, 0, 0, 1, 1, 1], degree=2))
            Line((7.3336436632, 29.3881754037), (7.3336436632, 30.833461862))
            Line((7.3336436632, 30.833461862), (7.6075976563, 30.833461862))
        make_face(mode=Mode.SUBTRACT)
        with BuildLine():
            ThreePointArc((9.525, 0), (-0.4768479324, 9.5130563464), (-9.4772553384, -0.9525))
            ThreePointArc((-9.4772553384, -0.9525), (-6.2623833816, -7.1769199091), (0.3401785714, -9.5189234444))
            ThreePointArc((0.3401785714, -9.5189234444), (6.8544082857, -6.6138273378), (9.525, 0))
        make_face()
        Circle(F0_R, mode=Mode.SUBTRACT)
        with BuildLine():
            ThreePointArc((44.7334821429, 7.9324362036), (36.5125, 0), (44.7334821429, -7.9324362036))
            ThreePointArc((44.7334821429, -7.9324362036), (50.1620069047, -5.5115227815), (52.3875, 0))
            ThreePointArc((52.3875, 0), (50.1620069047, 5.5115227815), (44.7334821429, 7.9324362036))
        make_face()
        with Locations((44.45, 0)):
            Circle(F0_R, mode=Mode.SUBTRACT)
    extrude(amount=F1_DEPTH)


solid = f1.part
